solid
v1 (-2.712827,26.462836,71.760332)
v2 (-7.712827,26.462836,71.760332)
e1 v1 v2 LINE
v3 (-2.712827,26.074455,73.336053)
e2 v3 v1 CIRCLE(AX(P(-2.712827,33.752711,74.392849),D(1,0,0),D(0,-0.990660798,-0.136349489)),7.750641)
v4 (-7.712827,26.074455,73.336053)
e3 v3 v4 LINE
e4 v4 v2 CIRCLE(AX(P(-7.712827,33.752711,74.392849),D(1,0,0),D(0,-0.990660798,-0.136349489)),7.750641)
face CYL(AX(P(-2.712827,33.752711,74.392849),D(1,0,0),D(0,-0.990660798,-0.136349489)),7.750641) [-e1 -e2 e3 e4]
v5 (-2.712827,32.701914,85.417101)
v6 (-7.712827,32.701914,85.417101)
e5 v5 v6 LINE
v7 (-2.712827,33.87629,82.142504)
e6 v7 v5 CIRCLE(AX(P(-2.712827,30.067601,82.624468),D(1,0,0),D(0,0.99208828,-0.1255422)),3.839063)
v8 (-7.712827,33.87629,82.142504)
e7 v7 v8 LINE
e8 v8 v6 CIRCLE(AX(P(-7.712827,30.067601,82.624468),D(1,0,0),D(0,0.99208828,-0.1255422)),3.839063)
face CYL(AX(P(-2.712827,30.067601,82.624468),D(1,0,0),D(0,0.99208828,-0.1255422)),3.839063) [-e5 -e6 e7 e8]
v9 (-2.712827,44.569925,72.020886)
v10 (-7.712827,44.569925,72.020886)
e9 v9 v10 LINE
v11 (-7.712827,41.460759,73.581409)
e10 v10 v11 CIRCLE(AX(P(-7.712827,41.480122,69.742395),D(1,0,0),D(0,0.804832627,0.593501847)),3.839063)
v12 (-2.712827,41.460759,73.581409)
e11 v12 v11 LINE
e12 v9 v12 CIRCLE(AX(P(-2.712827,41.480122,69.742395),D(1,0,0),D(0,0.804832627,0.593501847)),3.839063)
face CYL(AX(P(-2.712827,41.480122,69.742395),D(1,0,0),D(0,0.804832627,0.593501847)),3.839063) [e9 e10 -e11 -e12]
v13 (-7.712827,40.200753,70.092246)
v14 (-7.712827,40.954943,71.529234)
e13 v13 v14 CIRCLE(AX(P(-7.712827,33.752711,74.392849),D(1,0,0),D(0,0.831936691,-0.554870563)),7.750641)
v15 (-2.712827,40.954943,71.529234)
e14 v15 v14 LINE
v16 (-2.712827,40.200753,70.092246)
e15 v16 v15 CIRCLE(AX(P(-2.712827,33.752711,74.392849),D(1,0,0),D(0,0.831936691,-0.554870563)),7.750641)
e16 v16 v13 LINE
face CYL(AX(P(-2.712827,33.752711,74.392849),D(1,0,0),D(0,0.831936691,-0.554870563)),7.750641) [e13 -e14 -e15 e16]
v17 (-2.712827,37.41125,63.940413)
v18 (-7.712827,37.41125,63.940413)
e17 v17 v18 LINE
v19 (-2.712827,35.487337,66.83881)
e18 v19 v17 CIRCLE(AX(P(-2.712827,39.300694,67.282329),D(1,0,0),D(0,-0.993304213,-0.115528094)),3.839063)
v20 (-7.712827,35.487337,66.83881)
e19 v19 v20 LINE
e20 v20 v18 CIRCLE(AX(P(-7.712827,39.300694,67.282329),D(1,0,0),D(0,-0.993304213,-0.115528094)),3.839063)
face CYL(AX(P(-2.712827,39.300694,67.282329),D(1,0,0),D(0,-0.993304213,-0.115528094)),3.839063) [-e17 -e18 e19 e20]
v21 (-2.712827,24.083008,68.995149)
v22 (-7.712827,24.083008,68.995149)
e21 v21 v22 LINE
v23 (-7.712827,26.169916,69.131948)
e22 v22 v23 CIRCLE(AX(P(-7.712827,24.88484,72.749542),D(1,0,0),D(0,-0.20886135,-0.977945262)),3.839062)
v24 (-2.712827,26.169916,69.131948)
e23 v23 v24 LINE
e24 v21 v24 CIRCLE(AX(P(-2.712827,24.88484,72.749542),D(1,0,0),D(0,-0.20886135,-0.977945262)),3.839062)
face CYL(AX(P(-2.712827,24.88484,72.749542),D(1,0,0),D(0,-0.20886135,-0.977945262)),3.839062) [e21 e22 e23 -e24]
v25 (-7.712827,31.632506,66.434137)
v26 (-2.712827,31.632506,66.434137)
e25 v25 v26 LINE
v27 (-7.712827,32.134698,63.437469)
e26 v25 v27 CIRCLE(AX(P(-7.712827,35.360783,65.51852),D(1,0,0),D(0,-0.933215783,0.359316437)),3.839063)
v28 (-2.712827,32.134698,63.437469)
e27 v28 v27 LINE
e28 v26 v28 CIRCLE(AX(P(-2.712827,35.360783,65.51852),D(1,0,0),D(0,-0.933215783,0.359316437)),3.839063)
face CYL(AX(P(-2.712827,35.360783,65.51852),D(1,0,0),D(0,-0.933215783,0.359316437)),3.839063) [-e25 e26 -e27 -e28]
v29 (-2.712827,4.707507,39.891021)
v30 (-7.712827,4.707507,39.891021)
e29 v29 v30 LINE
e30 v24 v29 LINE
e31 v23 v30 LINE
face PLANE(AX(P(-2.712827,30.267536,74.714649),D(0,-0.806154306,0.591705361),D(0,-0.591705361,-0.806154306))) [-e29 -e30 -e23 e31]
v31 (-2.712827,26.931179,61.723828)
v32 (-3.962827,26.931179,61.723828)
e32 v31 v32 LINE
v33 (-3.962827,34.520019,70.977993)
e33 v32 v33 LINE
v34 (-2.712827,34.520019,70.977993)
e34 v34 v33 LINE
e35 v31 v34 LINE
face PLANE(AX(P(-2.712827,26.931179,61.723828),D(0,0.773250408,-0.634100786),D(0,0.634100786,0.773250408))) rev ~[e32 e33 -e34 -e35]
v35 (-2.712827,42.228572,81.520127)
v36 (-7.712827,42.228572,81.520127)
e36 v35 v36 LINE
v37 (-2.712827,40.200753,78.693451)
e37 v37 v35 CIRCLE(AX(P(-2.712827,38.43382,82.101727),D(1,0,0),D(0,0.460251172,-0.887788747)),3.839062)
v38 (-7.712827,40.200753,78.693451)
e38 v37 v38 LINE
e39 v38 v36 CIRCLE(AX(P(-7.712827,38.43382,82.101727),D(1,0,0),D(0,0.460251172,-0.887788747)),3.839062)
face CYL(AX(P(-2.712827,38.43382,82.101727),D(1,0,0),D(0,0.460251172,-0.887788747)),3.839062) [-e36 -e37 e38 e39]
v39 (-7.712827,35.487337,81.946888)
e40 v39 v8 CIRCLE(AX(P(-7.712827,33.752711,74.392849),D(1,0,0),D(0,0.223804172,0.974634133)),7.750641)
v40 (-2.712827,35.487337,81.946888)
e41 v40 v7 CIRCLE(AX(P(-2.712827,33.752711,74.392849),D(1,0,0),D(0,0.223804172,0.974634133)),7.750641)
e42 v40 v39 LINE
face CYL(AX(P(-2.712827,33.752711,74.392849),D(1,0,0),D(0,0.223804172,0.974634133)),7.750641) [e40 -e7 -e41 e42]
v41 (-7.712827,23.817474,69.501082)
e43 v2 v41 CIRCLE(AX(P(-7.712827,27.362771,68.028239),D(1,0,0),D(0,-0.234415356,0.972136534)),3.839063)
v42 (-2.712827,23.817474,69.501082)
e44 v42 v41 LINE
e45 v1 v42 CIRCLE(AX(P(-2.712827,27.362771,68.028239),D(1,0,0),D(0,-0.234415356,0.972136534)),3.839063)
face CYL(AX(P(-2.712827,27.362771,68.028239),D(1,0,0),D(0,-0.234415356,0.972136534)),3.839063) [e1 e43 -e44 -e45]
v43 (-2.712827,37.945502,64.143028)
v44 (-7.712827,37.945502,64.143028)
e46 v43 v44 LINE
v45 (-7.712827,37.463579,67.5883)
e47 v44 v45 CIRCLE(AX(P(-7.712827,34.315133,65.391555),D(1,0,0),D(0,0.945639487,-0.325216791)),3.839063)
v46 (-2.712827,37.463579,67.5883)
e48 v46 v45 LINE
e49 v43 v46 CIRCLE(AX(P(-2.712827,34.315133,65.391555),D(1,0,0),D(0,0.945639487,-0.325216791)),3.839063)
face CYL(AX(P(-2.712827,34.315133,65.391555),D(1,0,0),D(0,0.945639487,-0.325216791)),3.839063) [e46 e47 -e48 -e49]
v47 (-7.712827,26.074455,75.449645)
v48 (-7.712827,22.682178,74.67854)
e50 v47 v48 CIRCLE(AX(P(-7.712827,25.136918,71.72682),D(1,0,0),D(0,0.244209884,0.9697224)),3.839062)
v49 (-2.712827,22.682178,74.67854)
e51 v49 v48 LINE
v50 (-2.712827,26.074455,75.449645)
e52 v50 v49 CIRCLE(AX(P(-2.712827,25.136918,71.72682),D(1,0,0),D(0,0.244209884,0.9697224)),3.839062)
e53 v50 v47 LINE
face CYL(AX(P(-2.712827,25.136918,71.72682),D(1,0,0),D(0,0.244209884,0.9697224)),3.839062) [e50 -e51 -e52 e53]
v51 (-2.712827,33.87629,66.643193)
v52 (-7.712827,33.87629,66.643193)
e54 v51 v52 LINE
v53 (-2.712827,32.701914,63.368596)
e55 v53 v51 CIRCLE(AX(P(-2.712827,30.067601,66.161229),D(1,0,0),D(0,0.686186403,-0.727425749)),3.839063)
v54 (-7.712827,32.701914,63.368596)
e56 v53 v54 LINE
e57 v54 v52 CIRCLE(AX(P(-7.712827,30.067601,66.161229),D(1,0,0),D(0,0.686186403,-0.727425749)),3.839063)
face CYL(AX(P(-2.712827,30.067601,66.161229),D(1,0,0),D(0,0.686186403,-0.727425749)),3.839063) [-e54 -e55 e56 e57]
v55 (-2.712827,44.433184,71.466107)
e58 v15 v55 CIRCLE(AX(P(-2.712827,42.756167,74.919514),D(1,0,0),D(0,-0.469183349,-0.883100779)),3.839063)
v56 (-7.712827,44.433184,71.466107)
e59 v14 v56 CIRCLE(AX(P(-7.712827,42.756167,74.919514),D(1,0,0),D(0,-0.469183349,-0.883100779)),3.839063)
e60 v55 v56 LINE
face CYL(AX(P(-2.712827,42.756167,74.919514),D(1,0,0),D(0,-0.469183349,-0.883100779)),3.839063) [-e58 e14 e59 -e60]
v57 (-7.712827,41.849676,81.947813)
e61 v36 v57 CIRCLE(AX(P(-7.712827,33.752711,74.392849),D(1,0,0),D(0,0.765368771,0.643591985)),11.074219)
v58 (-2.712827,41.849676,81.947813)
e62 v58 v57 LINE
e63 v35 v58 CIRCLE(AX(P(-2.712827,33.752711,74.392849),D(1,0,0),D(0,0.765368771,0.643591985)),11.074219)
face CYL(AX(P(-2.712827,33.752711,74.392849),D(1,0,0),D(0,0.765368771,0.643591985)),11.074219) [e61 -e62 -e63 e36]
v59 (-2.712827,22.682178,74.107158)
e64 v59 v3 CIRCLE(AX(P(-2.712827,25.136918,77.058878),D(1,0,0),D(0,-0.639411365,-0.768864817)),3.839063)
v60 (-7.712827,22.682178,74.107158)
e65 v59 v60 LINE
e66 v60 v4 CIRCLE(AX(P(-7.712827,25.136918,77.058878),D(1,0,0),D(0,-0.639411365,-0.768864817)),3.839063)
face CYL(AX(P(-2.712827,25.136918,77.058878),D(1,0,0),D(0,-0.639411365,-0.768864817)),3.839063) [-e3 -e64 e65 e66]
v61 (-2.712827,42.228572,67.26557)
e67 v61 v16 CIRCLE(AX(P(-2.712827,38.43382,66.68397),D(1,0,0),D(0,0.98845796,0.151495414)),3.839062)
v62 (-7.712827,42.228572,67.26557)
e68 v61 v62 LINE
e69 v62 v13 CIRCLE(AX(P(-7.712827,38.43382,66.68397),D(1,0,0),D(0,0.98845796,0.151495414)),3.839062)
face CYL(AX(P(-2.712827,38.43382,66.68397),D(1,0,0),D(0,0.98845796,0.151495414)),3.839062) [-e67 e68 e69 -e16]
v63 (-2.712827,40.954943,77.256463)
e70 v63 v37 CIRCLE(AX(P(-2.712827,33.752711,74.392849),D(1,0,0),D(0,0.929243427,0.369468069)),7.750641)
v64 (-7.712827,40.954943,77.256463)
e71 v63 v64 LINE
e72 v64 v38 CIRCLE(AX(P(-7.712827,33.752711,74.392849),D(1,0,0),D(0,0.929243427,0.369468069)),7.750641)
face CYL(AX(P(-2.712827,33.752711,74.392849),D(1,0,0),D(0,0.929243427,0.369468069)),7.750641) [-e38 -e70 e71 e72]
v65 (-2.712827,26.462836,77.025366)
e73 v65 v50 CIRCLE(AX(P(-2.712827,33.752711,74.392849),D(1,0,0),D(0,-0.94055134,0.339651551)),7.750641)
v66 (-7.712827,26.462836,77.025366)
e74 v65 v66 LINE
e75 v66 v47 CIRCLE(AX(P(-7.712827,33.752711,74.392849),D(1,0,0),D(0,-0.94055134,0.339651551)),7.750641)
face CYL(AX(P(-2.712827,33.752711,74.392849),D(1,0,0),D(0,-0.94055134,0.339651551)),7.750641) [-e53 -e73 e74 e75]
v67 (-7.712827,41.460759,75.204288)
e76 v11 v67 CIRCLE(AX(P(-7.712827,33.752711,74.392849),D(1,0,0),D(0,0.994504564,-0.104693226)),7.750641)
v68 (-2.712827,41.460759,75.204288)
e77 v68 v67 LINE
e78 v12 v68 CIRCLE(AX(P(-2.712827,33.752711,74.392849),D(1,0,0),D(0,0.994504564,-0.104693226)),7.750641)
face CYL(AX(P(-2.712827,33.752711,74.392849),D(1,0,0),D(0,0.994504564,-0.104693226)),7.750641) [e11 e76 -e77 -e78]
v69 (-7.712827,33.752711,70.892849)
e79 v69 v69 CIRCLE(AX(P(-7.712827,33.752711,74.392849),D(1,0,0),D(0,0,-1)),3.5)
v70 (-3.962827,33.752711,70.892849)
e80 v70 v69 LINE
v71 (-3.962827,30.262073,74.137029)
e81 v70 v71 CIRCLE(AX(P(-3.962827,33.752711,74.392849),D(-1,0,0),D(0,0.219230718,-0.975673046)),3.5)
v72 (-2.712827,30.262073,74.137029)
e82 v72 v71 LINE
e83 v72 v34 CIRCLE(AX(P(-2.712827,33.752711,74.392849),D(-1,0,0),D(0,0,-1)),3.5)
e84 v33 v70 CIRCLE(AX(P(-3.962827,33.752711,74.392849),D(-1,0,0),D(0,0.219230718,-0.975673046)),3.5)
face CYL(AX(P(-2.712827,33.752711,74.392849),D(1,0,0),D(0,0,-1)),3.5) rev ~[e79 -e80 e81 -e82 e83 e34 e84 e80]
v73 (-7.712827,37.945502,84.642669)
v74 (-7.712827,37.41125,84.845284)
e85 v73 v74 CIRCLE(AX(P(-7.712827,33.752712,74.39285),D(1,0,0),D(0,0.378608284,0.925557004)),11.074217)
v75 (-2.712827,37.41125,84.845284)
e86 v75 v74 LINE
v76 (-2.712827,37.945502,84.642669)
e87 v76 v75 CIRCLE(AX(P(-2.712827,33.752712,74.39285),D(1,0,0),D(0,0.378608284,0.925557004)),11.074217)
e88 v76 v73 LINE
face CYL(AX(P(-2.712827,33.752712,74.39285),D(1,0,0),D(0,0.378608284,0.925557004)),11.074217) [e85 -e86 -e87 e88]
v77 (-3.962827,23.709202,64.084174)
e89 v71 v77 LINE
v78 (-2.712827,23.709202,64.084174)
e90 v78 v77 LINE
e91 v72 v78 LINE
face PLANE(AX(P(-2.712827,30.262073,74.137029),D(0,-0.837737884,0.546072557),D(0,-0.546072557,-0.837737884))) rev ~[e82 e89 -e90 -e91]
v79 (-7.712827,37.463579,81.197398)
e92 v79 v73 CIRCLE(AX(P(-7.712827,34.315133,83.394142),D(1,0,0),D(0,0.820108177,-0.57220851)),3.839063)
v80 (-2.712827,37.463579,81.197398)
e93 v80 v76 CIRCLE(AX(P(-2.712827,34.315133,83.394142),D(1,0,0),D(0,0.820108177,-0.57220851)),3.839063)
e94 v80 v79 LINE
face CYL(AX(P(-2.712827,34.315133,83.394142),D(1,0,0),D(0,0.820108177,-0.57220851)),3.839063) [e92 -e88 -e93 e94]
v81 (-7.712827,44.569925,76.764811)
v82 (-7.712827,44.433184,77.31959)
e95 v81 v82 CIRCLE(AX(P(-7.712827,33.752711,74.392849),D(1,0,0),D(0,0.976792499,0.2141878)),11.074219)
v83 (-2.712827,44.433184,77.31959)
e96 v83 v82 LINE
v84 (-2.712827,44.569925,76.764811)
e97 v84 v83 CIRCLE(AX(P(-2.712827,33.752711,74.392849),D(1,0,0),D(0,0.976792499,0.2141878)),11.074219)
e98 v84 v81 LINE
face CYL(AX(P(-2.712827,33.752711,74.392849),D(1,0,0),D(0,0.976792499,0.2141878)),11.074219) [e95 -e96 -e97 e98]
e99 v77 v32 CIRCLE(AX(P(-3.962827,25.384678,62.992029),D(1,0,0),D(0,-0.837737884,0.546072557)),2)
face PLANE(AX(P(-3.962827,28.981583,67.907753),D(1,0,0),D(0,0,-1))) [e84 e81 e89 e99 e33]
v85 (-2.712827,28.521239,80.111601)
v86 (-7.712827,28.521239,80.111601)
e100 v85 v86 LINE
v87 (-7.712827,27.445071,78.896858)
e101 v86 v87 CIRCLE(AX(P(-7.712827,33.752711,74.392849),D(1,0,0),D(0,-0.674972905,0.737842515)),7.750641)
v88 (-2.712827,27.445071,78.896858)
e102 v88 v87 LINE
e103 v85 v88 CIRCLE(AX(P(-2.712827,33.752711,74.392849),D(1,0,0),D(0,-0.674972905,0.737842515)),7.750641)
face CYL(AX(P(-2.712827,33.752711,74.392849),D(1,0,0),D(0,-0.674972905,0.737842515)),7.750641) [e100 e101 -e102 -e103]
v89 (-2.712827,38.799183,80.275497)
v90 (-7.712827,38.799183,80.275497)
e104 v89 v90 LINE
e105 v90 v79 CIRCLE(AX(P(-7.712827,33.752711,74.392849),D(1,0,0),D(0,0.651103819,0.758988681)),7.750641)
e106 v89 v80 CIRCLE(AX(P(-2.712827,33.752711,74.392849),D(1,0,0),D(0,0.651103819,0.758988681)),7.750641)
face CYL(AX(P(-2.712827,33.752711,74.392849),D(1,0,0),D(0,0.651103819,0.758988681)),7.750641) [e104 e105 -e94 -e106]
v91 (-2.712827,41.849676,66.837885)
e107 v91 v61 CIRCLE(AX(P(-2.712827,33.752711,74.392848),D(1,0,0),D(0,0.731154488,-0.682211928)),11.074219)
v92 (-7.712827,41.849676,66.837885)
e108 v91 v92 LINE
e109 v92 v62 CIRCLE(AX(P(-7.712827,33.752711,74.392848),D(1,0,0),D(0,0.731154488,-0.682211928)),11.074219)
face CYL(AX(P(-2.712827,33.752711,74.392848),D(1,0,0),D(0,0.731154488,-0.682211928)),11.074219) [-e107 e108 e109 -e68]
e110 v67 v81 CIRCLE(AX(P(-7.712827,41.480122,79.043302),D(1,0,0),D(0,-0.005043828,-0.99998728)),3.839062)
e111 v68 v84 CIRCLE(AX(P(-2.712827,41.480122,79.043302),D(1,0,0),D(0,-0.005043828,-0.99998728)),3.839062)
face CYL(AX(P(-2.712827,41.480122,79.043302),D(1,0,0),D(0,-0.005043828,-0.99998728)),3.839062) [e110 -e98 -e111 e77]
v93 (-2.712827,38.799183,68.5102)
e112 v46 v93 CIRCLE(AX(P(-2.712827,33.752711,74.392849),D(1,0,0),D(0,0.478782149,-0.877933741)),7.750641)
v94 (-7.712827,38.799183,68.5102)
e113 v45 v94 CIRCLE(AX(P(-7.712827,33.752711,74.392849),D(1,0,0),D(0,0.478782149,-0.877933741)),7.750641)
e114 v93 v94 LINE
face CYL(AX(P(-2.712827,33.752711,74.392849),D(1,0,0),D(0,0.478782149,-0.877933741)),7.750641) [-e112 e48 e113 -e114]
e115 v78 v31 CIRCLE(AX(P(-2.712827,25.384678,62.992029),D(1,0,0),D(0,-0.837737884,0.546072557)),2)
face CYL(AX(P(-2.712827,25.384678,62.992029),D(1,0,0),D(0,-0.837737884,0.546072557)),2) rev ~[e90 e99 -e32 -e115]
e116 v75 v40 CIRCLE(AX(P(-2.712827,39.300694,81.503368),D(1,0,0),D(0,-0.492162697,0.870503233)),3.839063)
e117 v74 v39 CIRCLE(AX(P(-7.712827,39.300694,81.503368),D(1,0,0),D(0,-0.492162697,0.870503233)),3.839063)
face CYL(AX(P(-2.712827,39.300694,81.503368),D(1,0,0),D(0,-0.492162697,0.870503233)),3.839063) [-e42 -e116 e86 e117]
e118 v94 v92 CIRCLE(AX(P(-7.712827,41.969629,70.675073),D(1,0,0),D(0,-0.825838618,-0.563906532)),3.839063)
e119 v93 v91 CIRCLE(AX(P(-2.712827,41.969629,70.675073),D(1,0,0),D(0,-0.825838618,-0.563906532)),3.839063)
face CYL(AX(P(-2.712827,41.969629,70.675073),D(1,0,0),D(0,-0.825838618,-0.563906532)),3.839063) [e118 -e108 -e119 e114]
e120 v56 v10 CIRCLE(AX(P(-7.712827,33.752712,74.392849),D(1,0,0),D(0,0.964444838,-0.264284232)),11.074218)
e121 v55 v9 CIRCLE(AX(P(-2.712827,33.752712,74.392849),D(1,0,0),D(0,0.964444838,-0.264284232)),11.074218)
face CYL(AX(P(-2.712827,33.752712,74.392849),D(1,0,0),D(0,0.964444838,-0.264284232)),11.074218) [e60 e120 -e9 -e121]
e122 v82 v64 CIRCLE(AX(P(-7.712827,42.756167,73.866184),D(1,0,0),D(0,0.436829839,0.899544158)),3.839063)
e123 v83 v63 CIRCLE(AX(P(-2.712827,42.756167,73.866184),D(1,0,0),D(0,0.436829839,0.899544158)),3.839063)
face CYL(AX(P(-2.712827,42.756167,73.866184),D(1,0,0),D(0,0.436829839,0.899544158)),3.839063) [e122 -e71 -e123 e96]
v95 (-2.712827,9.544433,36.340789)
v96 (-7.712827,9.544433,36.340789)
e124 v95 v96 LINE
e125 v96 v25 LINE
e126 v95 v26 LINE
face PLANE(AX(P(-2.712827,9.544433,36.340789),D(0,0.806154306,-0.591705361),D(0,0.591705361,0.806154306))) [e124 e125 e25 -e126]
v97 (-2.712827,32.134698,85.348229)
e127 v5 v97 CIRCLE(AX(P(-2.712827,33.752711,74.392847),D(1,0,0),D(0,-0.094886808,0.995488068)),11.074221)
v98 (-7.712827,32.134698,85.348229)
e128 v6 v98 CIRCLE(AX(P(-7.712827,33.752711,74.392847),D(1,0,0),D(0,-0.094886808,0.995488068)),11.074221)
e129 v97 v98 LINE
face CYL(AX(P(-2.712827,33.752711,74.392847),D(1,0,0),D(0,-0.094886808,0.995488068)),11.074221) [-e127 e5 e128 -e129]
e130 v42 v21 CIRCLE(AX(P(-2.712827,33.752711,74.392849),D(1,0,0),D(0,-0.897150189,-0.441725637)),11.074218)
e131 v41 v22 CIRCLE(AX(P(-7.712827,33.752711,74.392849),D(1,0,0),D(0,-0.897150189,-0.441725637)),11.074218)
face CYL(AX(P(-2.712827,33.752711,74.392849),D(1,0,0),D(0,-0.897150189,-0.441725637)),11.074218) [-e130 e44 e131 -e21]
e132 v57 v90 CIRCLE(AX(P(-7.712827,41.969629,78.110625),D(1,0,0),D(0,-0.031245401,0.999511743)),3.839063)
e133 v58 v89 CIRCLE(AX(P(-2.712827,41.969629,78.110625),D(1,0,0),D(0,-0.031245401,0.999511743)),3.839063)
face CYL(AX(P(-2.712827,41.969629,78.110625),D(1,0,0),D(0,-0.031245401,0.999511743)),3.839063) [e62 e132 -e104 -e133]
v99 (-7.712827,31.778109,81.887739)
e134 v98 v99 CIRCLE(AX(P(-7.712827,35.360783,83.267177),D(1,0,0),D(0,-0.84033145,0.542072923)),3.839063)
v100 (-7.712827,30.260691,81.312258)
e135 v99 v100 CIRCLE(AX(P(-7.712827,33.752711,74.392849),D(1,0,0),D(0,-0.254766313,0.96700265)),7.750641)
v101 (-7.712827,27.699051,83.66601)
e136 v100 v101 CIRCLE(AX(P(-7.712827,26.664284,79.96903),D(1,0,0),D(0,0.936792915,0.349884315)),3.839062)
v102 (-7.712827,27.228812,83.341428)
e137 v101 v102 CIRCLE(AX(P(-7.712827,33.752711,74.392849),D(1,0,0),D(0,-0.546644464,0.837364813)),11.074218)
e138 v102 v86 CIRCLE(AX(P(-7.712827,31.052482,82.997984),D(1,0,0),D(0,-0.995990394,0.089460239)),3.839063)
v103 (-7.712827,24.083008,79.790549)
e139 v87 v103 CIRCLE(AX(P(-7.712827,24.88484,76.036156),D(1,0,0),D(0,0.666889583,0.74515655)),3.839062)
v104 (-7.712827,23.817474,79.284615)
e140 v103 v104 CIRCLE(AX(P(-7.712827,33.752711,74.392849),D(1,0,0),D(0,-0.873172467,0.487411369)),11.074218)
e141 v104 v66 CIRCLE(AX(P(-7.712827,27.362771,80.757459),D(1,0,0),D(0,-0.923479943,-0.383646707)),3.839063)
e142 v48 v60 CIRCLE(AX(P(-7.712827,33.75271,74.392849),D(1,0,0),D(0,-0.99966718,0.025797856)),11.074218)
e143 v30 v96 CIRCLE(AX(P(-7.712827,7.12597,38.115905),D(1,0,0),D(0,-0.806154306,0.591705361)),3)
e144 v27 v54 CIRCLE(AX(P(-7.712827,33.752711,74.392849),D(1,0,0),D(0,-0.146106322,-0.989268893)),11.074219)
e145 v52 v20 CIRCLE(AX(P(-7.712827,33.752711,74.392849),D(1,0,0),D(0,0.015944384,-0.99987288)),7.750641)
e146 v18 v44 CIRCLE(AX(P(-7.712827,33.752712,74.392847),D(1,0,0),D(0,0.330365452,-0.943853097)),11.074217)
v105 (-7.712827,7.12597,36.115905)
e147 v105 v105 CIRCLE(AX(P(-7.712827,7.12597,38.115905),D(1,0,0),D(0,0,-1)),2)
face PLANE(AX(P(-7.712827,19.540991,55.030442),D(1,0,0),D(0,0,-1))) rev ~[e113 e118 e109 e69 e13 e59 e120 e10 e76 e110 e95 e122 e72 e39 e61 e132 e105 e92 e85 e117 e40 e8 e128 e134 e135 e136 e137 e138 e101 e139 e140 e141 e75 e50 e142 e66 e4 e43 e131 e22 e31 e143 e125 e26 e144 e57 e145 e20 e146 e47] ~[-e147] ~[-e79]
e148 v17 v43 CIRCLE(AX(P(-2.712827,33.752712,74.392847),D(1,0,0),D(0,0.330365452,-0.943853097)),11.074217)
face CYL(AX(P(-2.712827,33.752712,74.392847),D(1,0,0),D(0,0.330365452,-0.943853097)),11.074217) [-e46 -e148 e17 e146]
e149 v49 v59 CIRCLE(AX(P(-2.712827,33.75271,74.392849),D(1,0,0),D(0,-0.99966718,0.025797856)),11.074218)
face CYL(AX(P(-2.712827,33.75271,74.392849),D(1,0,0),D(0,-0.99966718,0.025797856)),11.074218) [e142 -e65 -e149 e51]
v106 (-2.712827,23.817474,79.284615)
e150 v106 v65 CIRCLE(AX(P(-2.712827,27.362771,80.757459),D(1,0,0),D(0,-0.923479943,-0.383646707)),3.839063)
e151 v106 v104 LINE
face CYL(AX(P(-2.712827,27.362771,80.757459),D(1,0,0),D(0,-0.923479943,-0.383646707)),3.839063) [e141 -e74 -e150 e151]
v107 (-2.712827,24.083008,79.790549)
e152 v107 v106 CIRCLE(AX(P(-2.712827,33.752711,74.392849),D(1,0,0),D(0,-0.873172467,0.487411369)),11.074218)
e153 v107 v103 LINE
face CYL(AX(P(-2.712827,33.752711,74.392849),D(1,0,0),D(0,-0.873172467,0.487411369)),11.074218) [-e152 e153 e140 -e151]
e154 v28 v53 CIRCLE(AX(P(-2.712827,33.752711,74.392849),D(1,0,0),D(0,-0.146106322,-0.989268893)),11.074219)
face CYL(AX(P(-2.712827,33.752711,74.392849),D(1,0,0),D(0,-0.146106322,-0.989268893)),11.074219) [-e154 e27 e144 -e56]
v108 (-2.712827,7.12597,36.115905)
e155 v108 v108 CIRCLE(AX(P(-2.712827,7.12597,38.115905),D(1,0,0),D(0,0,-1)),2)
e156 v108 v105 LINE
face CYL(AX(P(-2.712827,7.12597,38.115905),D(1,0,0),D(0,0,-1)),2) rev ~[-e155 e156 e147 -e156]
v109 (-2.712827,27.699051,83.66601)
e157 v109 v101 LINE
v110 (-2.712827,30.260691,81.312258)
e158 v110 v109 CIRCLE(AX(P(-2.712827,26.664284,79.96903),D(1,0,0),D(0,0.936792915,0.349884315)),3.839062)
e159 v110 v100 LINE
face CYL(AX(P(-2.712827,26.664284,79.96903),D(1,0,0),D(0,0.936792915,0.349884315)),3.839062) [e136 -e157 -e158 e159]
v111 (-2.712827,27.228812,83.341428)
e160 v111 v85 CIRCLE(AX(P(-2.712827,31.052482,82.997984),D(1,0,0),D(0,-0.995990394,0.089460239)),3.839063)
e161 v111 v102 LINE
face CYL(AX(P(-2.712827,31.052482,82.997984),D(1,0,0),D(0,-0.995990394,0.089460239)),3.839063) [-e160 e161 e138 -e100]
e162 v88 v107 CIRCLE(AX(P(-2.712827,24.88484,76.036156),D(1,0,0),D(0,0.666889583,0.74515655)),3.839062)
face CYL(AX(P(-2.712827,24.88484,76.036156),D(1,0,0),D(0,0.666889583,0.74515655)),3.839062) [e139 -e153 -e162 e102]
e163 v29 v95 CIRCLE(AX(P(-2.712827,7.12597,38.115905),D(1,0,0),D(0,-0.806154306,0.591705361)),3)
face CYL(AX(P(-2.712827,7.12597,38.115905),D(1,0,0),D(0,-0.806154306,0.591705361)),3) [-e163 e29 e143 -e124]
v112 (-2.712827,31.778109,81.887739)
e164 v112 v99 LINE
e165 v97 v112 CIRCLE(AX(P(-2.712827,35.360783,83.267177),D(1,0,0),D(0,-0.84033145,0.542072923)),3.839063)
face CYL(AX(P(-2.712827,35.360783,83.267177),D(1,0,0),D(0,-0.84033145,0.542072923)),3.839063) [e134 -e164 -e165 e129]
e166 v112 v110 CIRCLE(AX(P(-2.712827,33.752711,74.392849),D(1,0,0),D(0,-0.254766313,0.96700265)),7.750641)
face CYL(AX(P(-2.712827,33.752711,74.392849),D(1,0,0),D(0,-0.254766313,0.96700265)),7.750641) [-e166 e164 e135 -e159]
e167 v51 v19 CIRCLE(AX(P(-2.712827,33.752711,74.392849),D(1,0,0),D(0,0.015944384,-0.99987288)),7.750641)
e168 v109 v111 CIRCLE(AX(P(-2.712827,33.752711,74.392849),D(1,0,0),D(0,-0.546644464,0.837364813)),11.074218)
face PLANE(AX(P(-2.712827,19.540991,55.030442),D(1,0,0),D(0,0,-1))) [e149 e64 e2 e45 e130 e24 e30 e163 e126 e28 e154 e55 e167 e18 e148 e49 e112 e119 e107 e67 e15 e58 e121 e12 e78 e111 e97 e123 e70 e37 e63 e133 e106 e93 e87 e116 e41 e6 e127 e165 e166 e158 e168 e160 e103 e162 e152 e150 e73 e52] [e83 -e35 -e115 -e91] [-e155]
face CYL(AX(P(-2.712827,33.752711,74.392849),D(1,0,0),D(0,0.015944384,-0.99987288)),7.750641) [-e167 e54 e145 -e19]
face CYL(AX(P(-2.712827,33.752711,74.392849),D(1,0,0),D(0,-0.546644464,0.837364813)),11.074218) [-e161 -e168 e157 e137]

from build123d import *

# Parameters (mm, degrees)
SKETCH1_R           = 3.5
BOSS_EXTRUDE1_DEPTH = 5
SKETCH2_R           = 2
BOSS_EXTRUDE2_DEPTH = 5
CUT_EXTRUDE1_DEPTH  = 1.25


with BuildPart() as part:
    # Sketch1 → Boss-Extrude1 (new body)
    with BuildSketch(Plane(origin=(-2.712826585, 0, 0), x_dir=(0, 0, -1), z_dir=(1, 0, 0))):
        with BuildLine():
            ThreePointArc((-81.947812788, 41.849675859), (-81.477011433, 40.124136701), (-80.275497155, 38.799182837))
            ThreePointArc((-80.275497155, 38.799182837), (-80.771500839, 38.155576831), (-81.197397579, 37.463579494))
            ThreePointArc((-81.197397579, 37.463579494), (-82.862313797, 38.117179744), (-84.642669398, 37.94550204))
            ThreePointArc((-84.642669398, 37.94550204), (-84.747423061, 37.679683216), (-84.845284304, 37.411250441))
            ThreePointArc((-84.845284304, 37.411250441), (-83.626512376, 36.102153696), (-81.946887557, 35.48733684))
            ThreePointArc((-81.946887557, 35.48733684), (-82.086978383, 34.686947618), (-82.14250402, 33.876290323))
            ThreePointArc((-82.14250402, 33.876290323), (-83.920457299, 33.681299457), (-85.417101287, 32.701913897))
            ThreePointArc((-85.417101287, 32.701913897), (-85.386323881, 32.417861562), (-85.348228779, 32.134697757))
            ThreePointArc((-85.348228779, 32.134697757), (-83.660692239, 31.541941712), (-81.887738682, 31.778108996))
            ThreePointArc((-81.887738682, 31.778108996), (-81.63982353, 31.004296084), (-81.31225781, 30.260690647))
            ThreePointArc((-81.31225781, 30.260690647), (-82.795940481, 29.261778722), (-83.666009754, 27.699050735))
            ThreePointArc((-83.666009754, 27.699050735), (-83.506752013, 27.461837857), (-83.341427693, 27.228812437))
            ThreePointArc((-83.341427693, 27.228812437), (-81.571720826, 27.488190359), (-80.111600825, 28.521238704))
            ThreePointArc((-80.111600825, 28.521238704), (-79.532474069, 27.951273314), (-78.896858351, 27.44507078))
            ThreePointArc((-78.896858351, 27.44507078), (-79.746376594, 25.871076479), (-79.790548767, 24.083008214))
            ThreePointArc((-79.790548767, 24.083008214), (-79.53929472, 23.946977405), (-79.284614992, 23.817473685))
            ThreePointArc((-79.284614992, 23.817473685), (-77.838156313, 24.869565218), (-77.025365765, 26.462835698))
            ThreePointArc((-77.025365765, 26.462835698), (-76.247698364, 26.227290032), (-75.44964455, 26.074455301))
            ThreePointArc((-75.44964455, 26.074455301), (-75.470383973, 24.285961751), (-74.678539734, 22.682178099))
            ThreePointArc((-74.678539734, 22.682178099), (-74.392848655, 22.678492377), (-74.107157575, 22.682178099))
            ThreePointArc((-74.107157575, 22.682178099), (-73.315313337, 24.285961751), (-73.33605276, 26.074455301))
            ThreePointArc((-73.33605276, 26.074455301), (-72.537998945, 26.227290032), (-71.760331544, 26.462835698))
            ThreePointArc((-71.760331544, 26.462835698), (-70.947540996, 24.869565218), (-69.501082317, 23.817473685))
            ThreePointArc((-69.501082317, 23.817473685), (-69.246402589, 23.946977405), (-68.995148542, 24.083008214))
            ThreePointArc((-68.995148542, 24.083008214), (-69.039320715, 25.871076479), (-69.888838958, 27.44507078))
            ThreePointArc((-69.888838958, 27.44507078), (-69.25322324, 27.951273314), (-68.674096484, 28.521238704))
            ThreePointArc((-68.674096484, 28.521238704), (-67.213976483, 27.488190359), (-65.444269616, 27.228812437))
            ThreePointArc((-65.444269616, 27.228812437), (-65.278945296, 27.461837857), (-65.119687555, 27.699050735))
            ThreePointArc((-65.119687555, 27.699050735), (-65.989756828, 29.261778722), (-67.473439499, 30.260690647))
            ThreePointArc((-67.473439499, 30.260690647), (-67.145873779, 31.004296084), (-66.897958627, 31.778108996))
            ThreePointArc((-66.897958627, 31.778108996), (-65.12500507, 31.541941712), (-63.437468531, 32.134697757))
            ThreePointArc((-63.437468531, 32.134697757), (-63.399373428, 32.417861562), (-63.368596022, 32.701913897))
            ThreePointArc((-63.368596022, 32.701913897), (-64.86524001, 33.681299457), (-66.643193289, 33.876290323))
            ThreePointArc((-66.643193289, 33.876290323), (-66.698718926, 34.686947618), (-66.838809753, 35.48733684))
            ThreePointArc((-66.838809753, 35.48733684), (-65.159184933, 36.102153696), (-63.940413005, 37.411250441))
            ThreePointArc((-63.940413005, 37.411250441), (-64.038274248, 37.679683216), (-64.143027911, 37.94550204))
            ThreePointArc((-64.143027911, 37.94550204), (-65.923383512, 38.117179744), (-67.58829973, 37.463579494))
            ThreePointArc((-67.58829973, 37.463579494), (-68.01419647, 38.155576831), (-68.510200154, 38.799182837))
            ThreePointArc((-68.510200154, 38.799182837), (-67.308685876, 40.124136701), (-66.837884521, 41.849675859))
            ThreePointArc((-66.837884521, 41.849675859), (-67.049283279, 42.041882889), (-67.265570208, 42.228572314))
            ThreePointArc((-67.265570208, 42.228572314), (-68.92177941, 41.55321287), (-70.092246326, 40.200753443))
            ThreePointArc((-70.092246326, 40.200753443), (-70.790946358, 40.615562571), (-71.529234434, 40.954942982))
            ThreePointArc((-71.529234434, 40.954942982), (-71.081083139, 42.686502891), (-71.466107273, 44.433184235))
            ThreePointArc((-71.466107273, 44.433184235), (-71.742614638, 44.505133207), (-72.020886105, 44.569924936))
            ThreePointArc((-72.020886105, 44.569924936), (-73.173531339, 43.202245052), (-73.581409088, 41.460758605))
            ThreePointArc((-73.581409088, 41.460758605), (-74.392848655, 41.503351752), (-75.204288221, 41.460758605))
            ThreePointArc((-75.204288221, 41.460758605), (-75.61216597, 43.202245052), (-76.764811205, 44.569924936))
            ThreePointArc((-76.764811205, 44.569924936), (-77.043082671, 44.505133207), (-77.319590036, 44.433184235))
            ThreePointArc((-77.319590036, 44.433184235), (-77.70461417, 42.686502891), (-77.256462875, 40.954942982))
            ThreePointArc((-77.256462875, 40.954942982), (-77.994750951, 40.615562571), (-78.693450983, 40.200753443))
            ThreePointArc((-78.693450983, 40.200753443), (-79.863917899, 41.55321287), (-81.520127101, 42.228572314))
            ThreePointArc((-81.520127101, 42.228572314), (-81.73641403, 42.041882889), (-81.947812788, 41.849675859))
        make_face()
        with Locations((-74.392848655, 33.752711127)):
            Circle(SKETCH1_R, mode=Mode.SUBTRACT)
    extrude(amount=-BOSS_EXTRUDE1_DEPTH)

    # Sketch2 → Boss-Extrude2 (add)
    with BuildSketch(Plane(origin=(-2.712826585, 0, 0), x_dir=(0, 0, -1), z_dir=(1, 0, 0))):
        with BuildLine():
            Line((-36.340788792, 9.544432787), (-71.164417227, 35.104462035))
            ThreePointArc((-71.164417227, 35.104462035), (-71.527272682, 31.649420661), (-74.714649395, 30.267536198))
            Line((-74.714649395, 30.267536198), (-39.891020959, 4.70750695))
            ThreePointArc((-39.891020959, 4.70750695), (-35.697441957, 5.350853784), (-36.340788792, 9.544432787))
        make_face()
        with Locations((-38.115904876, 7.125969868)):
            Circle(SKETCH2_R, mode=Mode.SUBTRACT)
    extrude(amount=-BOSS_EXTRUDE2_DEPTH)

    # Sketch4 → Cut-Extrude1 (cut)
    with BuildSketch(Plane(origin=(-2.712826585, 0, 0), x_dir=(0, 0, -1), z_dir=(1, 0, 0))):
        with BuildLine():
            Line((-0.915831104, -5.866675378), (-4.542476407, -4.193411072))
            ThreePointArc((-4.542476407, -4.193411072), (-3.521318412, -6.746986699), (-0.915831104, -5.866675378))
        make_face()
        with BuildLine():
            ThreePointArc((-70.977992994, 34.520018639), (-71.581978602, 31.667283222), (-74.137028803, 30.262072761))
            Line((-74.137028803, 30.262072761), (-64.084174194, 23.709202076))
            Line((-64.084174194, 23.709202076), (-61.723827508, 26.931178659))
            Line((-61.723827508, 26.931178659), (-70.977992994, 34.520018639))
        make_face()
        with BuildLine():
            Line((-61.723827508, 26.931178659), (-64.084174194, 23.709202076))
            ThreePointArc((-64.084174194, 23.709202076), (-61.378637545, 24.202743939), (-61.723827508, 26.931178659))
        make_face()
    extrude(amount=-CUT_EXTRUDE1_DEPTH, mode=Mode.SUBTRACT)


solid = part.part
